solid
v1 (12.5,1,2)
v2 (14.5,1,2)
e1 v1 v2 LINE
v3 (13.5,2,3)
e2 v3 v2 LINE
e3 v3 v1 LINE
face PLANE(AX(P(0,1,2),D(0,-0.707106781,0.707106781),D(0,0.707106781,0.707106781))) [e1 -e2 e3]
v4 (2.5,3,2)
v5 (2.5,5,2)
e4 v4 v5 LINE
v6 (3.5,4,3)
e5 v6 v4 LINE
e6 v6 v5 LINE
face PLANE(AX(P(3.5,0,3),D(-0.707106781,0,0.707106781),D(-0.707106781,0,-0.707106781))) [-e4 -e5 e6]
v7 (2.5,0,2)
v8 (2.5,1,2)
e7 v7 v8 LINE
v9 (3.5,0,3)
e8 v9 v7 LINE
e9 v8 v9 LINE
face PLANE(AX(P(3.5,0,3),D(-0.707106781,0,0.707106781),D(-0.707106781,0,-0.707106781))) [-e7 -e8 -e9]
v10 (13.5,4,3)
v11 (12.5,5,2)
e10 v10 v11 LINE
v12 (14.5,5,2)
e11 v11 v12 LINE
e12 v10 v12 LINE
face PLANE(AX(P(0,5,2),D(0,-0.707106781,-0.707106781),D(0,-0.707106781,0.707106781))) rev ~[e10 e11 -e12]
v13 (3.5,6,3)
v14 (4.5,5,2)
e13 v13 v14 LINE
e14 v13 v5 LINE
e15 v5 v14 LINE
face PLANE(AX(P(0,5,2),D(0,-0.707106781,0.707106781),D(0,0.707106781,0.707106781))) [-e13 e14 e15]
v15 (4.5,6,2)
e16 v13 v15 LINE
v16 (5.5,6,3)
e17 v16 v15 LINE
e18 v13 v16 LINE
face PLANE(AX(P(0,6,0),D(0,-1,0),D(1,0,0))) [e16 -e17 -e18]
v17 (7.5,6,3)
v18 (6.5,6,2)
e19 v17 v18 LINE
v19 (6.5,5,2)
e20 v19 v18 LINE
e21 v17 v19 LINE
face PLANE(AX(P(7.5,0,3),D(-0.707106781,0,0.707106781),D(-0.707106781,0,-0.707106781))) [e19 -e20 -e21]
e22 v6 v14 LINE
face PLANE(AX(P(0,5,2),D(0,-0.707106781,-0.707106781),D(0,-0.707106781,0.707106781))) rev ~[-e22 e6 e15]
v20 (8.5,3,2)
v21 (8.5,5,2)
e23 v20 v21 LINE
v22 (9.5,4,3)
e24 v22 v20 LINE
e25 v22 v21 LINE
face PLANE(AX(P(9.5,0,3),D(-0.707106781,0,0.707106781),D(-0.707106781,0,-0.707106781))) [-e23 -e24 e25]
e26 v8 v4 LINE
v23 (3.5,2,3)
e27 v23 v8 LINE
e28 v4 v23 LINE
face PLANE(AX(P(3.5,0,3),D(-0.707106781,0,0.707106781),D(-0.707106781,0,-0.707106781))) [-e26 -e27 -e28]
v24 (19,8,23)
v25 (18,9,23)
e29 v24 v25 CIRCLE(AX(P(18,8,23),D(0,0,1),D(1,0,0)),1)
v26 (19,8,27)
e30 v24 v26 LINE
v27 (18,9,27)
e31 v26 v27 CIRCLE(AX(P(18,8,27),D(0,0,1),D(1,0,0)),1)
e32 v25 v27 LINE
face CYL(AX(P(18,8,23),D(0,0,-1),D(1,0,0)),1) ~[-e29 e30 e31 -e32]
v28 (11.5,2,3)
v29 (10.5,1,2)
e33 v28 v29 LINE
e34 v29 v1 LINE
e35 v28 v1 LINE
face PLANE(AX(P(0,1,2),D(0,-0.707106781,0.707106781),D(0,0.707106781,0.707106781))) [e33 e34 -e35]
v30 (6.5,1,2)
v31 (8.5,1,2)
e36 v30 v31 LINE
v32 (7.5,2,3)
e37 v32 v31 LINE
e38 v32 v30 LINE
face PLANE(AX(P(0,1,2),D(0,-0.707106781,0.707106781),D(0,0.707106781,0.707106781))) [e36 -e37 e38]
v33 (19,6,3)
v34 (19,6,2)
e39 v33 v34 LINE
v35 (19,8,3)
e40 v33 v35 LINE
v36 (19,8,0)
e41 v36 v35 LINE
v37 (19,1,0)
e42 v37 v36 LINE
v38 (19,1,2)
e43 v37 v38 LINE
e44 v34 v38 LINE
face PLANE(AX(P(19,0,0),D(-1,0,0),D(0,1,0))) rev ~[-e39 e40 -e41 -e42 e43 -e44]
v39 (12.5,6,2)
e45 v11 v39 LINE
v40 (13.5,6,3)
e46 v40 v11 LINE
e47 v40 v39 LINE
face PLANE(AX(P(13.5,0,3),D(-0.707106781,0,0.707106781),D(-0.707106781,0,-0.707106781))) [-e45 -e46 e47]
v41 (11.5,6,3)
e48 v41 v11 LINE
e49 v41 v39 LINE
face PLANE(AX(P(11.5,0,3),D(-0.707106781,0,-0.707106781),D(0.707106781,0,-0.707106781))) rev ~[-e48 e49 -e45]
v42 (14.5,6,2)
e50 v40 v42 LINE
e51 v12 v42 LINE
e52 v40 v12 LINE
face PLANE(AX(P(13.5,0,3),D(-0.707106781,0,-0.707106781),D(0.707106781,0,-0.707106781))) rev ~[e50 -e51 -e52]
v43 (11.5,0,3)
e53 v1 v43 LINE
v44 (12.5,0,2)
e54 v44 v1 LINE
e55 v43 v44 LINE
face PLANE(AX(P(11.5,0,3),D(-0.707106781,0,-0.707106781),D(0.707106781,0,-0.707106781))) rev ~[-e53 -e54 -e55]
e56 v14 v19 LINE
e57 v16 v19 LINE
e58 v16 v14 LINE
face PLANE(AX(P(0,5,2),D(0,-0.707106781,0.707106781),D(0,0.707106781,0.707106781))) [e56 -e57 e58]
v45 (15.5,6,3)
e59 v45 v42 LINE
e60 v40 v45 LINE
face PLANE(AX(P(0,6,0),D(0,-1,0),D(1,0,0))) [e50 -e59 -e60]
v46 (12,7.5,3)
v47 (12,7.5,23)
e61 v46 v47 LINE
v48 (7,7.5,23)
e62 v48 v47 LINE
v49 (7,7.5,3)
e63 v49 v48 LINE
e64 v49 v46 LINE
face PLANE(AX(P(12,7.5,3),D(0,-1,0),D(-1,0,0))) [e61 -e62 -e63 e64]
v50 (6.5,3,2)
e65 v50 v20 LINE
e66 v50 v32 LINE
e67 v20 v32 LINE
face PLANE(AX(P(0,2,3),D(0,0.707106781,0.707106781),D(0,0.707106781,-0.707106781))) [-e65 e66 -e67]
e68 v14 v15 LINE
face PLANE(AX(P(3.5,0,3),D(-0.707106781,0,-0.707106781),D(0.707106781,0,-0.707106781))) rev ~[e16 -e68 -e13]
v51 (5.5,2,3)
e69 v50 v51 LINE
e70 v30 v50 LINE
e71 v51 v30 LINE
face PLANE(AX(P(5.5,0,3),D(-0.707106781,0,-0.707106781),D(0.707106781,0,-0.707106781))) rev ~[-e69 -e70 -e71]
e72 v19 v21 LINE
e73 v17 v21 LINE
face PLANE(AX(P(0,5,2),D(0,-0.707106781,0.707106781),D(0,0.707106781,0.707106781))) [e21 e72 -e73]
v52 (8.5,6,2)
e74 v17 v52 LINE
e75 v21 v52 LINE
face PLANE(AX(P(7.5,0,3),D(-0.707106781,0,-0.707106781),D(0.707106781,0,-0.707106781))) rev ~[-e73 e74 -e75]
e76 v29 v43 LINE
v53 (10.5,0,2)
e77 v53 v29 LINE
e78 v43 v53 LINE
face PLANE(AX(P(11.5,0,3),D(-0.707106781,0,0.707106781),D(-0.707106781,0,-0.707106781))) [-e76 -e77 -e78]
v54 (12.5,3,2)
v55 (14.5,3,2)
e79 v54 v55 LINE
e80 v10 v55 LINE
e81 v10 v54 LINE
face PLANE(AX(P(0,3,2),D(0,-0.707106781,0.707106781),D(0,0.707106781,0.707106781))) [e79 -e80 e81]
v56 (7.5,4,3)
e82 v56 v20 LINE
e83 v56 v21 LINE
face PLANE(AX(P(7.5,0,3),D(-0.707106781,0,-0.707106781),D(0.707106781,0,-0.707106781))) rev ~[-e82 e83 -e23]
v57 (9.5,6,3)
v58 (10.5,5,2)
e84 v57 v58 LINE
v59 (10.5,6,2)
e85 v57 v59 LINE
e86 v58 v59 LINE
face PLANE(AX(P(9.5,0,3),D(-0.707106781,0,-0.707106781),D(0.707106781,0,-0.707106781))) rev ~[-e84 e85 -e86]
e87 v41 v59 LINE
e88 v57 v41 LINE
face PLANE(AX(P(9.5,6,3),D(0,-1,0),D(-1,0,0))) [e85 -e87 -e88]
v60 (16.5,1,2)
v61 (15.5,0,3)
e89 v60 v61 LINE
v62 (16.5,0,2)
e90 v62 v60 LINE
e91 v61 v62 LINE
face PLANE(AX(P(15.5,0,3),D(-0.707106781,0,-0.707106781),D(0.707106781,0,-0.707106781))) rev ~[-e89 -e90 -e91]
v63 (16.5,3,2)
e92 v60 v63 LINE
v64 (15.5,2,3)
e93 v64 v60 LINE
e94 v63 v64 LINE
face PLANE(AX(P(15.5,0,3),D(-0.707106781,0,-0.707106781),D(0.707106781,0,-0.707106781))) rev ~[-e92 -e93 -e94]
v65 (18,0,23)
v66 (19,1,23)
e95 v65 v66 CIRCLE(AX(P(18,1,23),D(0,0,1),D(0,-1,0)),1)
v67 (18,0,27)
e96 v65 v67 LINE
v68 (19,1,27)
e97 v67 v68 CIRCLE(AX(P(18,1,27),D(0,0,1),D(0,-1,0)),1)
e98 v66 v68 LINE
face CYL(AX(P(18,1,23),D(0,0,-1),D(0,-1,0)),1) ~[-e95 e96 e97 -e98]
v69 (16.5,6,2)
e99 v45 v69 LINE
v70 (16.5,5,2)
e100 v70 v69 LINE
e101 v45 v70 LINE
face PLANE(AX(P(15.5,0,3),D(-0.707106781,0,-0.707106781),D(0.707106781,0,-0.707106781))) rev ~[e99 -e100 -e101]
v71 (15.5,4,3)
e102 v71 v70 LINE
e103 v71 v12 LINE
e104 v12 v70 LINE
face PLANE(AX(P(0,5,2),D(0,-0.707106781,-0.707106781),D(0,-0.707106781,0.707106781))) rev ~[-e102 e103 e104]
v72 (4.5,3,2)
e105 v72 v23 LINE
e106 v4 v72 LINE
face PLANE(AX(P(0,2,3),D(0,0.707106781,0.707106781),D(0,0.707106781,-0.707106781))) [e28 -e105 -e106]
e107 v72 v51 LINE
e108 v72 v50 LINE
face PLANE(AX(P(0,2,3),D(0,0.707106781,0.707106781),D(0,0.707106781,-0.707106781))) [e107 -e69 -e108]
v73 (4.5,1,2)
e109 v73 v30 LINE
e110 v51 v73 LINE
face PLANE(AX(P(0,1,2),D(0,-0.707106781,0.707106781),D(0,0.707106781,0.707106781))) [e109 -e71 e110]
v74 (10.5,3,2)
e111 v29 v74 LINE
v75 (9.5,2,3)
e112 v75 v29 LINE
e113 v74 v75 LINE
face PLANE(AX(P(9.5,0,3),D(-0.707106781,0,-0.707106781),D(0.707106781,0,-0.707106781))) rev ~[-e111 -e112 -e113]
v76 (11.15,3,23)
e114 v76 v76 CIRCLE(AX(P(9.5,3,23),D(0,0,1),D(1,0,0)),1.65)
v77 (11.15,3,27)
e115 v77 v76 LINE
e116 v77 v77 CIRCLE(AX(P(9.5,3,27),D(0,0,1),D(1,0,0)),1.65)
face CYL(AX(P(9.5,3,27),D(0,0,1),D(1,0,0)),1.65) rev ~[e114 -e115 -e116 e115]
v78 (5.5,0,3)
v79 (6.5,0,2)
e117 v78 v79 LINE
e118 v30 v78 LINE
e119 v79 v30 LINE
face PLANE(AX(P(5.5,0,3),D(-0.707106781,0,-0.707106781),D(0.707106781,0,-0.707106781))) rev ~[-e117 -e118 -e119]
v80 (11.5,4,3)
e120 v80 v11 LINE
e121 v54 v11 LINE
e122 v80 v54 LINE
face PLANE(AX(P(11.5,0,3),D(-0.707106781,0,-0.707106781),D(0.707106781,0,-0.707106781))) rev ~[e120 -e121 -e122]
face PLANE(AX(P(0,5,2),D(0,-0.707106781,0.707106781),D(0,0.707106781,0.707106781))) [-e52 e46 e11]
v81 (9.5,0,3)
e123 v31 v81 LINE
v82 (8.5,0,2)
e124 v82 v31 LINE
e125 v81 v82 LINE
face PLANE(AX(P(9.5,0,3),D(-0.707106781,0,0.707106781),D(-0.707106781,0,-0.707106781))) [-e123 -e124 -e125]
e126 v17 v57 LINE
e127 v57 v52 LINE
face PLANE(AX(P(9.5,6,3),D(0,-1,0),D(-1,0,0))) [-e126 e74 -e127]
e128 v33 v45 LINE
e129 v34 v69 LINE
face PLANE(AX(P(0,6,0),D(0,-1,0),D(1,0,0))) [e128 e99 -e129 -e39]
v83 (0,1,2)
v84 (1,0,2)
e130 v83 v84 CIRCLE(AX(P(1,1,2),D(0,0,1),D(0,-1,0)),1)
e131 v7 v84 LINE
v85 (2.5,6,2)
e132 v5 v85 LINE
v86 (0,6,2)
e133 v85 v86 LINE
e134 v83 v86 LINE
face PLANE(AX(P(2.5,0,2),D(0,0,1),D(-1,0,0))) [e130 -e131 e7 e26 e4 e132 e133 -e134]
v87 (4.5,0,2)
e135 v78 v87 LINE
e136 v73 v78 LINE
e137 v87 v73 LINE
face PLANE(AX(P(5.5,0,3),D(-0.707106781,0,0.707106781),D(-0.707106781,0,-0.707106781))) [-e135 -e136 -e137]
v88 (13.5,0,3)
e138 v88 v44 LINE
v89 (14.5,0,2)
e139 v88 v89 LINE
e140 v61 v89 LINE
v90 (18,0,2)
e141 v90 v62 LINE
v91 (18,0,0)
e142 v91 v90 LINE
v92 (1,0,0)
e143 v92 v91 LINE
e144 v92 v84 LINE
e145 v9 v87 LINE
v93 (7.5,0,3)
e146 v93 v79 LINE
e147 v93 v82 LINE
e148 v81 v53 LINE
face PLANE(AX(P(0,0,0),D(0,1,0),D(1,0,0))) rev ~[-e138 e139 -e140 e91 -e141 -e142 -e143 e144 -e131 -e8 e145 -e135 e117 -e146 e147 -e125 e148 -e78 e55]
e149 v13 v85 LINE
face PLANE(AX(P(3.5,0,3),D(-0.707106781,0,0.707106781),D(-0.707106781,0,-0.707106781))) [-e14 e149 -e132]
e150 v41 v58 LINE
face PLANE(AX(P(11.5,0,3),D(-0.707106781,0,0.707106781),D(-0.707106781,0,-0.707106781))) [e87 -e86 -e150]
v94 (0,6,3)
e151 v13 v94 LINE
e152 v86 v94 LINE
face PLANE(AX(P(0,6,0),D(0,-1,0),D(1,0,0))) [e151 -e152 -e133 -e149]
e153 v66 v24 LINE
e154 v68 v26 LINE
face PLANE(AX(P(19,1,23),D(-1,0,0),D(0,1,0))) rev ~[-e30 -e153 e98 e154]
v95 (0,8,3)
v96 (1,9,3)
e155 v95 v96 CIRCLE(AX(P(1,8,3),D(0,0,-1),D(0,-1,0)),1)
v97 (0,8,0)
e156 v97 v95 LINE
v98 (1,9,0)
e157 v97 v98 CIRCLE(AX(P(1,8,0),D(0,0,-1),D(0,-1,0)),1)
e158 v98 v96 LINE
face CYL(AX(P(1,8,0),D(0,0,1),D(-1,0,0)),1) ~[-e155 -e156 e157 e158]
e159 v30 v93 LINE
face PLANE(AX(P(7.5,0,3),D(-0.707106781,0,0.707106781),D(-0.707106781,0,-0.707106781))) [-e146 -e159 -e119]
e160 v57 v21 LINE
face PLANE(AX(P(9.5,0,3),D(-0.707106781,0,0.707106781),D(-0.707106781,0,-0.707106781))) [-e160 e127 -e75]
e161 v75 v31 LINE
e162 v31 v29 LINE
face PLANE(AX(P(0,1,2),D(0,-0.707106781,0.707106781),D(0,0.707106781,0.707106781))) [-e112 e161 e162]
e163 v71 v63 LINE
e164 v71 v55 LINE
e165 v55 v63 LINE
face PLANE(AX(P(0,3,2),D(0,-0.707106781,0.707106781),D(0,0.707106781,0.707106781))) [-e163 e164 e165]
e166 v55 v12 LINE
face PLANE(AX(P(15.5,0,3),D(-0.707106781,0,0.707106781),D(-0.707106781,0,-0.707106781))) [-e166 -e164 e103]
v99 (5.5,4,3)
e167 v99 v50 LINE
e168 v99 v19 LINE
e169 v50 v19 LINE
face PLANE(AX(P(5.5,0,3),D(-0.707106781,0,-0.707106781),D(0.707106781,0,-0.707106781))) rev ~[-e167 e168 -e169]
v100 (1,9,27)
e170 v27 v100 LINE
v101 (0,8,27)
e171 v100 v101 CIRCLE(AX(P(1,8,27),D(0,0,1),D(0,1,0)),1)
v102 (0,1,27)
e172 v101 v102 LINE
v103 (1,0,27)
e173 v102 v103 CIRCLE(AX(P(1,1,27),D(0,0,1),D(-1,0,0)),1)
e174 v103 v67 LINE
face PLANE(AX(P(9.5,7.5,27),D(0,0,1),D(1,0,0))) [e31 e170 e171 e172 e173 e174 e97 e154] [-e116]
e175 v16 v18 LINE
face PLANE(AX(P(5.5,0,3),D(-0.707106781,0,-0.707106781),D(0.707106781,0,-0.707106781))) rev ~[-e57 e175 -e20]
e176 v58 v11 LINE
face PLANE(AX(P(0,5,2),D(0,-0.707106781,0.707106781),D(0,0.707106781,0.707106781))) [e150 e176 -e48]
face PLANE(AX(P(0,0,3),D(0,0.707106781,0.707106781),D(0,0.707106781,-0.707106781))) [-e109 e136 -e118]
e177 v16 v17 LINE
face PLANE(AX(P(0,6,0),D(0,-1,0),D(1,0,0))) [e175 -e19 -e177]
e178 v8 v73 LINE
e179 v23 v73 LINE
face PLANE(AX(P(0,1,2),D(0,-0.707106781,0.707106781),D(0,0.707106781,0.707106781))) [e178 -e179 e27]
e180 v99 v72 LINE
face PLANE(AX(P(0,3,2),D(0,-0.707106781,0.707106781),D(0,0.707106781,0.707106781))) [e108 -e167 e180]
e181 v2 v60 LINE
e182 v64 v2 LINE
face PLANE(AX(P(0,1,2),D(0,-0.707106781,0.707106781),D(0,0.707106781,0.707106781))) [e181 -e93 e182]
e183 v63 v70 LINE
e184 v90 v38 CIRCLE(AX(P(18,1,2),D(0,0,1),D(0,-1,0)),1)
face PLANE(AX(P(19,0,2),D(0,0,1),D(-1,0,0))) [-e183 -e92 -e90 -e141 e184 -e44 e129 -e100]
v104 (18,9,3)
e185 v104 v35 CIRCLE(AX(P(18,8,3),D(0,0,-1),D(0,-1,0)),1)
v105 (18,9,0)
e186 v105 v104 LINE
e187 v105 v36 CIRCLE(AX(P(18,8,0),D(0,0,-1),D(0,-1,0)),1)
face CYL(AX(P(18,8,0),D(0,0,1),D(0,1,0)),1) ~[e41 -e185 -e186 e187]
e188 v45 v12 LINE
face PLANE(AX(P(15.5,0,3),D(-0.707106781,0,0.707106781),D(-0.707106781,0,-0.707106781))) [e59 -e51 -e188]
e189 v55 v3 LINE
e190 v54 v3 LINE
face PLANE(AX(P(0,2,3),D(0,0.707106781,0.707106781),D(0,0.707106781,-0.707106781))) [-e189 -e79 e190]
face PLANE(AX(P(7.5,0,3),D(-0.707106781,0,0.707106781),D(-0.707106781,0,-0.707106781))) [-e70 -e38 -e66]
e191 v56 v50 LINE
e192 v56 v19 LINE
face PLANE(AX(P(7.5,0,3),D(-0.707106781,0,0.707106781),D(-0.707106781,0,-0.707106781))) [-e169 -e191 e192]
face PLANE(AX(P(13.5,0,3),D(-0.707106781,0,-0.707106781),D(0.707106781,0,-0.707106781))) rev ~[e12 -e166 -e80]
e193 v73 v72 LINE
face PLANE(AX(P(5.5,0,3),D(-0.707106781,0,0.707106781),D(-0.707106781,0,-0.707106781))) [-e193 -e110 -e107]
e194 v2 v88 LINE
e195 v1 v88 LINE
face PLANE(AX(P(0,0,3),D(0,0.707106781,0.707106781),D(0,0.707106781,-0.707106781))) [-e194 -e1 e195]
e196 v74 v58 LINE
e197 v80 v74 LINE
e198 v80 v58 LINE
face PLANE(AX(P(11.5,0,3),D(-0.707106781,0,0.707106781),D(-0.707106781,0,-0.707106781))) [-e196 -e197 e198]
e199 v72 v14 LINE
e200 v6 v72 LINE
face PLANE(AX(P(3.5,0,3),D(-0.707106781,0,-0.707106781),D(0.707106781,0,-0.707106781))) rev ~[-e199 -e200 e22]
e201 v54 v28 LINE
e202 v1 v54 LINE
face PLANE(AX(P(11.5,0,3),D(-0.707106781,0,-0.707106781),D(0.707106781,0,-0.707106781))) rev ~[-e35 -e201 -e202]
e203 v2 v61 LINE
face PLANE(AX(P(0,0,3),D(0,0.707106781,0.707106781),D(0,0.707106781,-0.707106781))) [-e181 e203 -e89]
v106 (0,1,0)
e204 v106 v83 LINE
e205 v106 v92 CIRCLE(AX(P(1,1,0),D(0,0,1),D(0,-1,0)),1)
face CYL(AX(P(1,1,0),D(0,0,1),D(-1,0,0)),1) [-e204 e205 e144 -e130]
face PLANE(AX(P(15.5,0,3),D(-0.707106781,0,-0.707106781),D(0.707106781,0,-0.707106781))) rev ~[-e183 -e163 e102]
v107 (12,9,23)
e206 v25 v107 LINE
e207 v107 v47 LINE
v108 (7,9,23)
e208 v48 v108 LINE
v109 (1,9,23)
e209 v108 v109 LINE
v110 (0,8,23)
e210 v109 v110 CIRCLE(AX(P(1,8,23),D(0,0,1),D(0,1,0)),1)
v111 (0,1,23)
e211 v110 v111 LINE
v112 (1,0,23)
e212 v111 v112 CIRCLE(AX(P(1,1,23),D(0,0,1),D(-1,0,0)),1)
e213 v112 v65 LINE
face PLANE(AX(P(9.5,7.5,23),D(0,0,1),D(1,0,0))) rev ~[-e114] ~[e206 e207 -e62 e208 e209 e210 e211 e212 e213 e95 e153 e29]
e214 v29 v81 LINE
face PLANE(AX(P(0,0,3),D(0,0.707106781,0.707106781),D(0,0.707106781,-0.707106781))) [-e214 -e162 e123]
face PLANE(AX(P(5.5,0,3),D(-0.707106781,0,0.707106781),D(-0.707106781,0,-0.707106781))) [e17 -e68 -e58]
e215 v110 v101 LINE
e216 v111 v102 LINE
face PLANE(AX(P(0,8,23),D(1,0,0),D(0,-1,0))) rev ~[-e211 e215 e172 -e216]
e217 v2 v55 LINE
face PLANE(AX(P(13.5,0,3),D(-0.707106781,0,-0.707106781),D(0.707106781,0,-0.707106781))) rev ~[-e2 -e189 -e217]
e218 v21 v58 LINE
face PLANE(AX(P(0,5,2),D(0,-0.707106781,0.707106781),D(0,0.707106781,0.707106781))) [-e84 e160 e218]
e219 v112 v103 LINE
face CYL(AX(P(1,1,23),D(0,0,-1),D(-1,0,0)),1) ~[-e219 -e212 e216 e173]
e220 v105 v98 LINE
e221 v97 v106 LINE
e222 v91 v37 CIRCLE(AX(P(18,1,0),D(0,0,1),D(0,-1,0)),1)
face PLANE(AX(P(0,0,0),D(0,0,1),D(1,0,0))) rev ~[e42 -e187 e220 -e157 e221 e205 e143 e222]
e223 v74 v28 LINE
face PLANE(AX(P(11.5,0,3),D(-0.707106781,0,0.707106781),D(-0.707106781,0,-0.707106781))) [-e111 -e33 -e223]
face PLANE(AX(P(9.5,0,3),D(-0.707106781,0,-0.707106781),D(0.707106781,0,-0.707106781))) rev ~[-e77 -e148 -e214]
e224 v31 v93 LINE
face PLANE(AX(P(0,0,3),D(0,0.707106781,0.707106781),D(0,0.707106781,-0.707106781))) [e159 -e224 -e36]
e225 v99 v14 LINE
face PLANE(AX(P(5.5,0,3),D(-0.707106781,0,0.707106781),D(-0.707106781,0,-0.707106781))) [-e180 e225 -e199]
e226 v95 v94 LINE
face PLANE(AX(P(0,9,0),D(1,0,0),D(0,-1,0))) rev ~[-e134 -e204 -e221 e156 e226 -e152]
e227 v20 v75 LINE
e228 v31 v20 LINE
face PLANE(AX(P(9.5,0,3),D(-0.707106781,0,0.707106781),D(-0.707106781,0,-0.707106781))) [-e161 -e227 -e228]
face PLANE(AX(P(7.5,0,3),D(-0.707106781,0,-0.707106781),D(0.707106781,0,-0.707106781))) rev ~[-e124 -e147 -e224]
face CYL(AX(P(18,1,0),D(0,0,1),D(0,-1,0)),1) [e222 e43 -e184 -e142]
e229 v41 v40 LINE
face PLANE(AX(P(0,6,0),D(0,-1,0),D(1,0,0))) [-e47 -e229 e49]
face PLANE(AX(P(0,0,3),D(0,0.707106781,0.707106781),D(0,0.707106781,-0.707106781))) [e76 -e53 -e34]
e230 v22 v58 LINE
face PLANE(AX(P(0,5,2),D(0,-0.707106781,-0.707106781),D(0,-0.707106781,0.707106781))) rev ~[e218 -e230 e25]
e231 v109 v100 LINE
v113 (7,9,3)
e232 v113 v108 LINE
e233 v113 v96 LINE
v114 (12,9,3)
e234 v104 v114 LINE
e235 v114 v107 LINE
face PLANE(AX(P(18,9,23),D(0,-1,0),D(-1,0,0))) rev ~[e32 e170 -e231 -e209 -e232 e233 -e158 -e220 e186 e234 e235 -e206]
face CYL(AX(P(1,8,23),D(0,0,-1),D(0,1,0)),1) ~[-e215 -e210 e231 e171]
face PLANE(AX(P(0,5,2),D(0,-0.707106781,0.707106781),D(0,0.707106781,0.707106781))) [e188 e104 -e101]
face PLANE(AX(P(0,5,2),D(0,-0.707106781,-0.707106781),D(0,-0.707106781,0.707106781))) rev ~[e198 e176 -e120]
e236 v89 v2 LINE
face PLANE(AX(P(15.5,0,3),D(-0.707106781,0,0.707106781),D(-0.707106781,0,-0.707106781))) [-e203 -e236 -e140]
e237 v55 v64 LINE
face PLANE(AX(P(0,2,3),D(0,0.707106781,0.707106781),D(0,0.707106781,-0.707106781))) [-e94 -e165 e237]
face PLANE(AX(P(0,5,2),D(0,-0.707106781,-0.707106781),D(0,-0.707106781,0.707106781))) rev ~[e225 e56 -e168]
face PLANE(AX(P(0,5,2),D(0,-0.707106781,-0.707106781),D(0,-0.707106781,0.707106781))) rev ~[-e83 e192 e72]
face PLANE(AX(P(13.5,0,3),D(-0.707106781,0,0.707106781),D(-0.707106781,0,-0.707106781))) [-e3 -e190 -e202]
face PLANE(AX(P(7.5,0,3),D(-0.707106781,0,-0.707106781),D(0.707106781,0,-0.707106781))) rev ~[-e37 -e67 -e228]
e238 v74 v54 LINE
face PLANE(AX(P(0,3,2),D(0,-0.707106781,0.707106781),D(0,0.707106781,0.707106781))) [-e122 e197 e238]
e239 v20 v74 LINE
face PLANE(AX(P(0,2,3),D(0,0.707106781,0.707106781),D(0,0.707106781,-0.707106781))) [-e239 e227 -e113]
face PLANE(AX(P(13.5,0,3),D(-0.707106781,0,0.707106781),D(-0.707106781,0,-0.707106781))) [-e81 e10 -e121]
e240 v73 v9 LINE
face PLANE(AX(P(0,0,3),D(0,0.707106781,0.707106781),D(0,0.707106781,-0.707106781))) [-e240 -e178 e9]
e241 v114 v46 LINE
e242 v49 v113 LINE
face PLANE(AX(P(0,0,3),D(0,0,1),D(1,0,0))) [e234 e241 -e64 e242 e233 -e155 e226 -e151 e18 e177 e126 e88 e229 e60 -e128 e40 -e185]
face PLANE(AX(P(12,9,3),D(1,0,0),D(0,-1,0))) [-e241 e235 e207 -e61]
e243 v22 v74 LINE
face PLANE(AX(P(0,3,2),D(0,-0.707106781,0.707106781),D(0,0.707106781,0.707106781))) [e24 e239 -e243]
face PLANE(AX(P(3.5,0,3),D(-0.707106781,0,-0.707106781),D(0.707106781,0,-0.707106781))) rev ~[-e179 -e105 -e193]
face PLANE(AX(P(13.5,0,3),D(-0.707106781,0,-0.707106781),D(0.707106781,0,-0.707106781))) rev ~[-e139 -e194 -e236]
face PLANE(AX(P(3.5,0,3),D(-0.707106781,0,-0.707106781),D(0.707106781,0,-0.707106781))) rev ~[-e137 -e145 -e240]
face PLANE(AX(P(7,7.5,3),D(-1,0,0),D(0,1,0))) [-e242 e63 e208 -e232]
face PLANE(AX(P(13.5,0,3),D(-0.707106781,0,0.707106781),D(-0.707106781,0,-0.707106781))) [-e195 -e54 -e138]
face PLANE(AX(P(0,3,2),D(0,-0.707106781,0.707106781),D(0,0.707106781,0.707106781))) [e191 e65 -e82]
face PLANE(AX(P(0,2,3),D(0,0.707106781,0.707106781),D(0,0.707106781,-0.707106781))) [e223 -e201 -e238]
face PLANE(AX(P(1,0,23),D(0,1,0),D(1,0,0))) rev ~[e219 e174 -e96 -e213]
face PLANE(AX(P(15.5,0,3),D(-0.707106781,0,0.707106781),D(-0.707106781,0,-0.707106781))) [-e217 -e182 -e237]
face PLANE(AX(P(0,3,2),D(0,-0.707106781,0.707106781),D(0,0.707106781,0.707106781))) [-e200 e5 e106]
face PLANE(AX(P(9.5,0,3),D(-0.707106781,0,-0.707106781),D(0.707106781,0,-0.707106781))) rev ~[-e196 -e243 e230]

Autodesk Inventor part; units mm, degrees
ref_plane "YZ Plane" through (0, 0, 0) normal (1, 0, 0) x (0, 1, 0)
ref_plane "XZ Plane" through (0, 0, 0) normal (0, 1, 0) x (-1, 0, 0)
ref_plane "XY Plane" through (0, 0, 0) normal (0, 0, 1) x (1, 0, 0)
sketch "Sketch1" plane through (0, 0, 0) normal (0, 0, 1) x (1, 0, 0)
  line L0 (0, 0) -> (19, 0)
  line L1 (19, 0) -> (19, 9)
  line L2 (19, 9) -> (0, 9)
  line L3 (0, 9) -> (0, 0)
  point P0 (9.5, 9)
  dimension "d0" = 19
  dimension "d1" = 9
extrude "Extrusion1" add sketch "Sketch1" along normal blind 3
sketch "Sketch2" plane through (0, 0, 3) normal (0, 0, 1) x (1, 0, 0)
  line L0 (19, 9) -> (0, 9) projected
  circle A0 centre (9.5, 7.5) radius 1.5
  line L1 (11, 6) -> (8, 6)
  line L2 (8, 6) -> (8, 9)
  line L3 (8, 9) -> (11, 9)
  line L4 (11, 9) -> (11, 6)
  line L5 (11, 6) -> (8, 9) construction
  line L6 (8, 6) -> (11, 9) construction
  line L7 (12, 7.5) -> (7, 7.5)
  line L8 (7, 7.5) -> (7, 9)
  line L9 (7, 9) -> (12, 9)
  line L10 (12, 9) -> (12, 7.5)
  line L11 (12, 7.5) -> (7, 9) construction
  line L12 (7, 7.5) -> (12, 9) construction
  line L13 (8, 7.5) -> (11, 7.5)
  line L14 (11, 7.5) -> (11, 6)
  line L15 (11, 6) -> (8, 6)
  line L16 (8, 6) -> (8, 7.5)
  point P0 (0, 0)
  point P1 (9.5, 8.25)
  dimension "d4" = 3
  dimension "d5" = 1.5
  dimension "d73" = 0.75
  dimension "d74" = 5
extrude "Extrusion2" add sketch "Sketch2" along normal blind 20 contours A0 L7 | A0 L7
sketch "Sketch10" plane through (0, 0, 0) normal (-1, 0, 0) x (0, 0, 1)
  line L0 (0, 0) -> (3, 0) projected
  line L1 (3, 9) -> (3, 0) projected
  line L2 (3, 0) -> (2, 0)
  line L3 (2, 0) -> (2, 6)
  line L4 (2, 6) -> (3, 6)
  line L5 (3, 6) -> (3, 0)
  line L6 (3, 0) -> (2, 1)
  line L7 (3, 0) -> (4.4142, 0) construction
  line L8 (2, 1) -> (3, 2)
  line L9 (3, 0) -> (3, 9) projected
  line L10 (3, 2) -> (2, 3)
  line L11 (2, 3) -> (3, 4)
  line L12 (2, 5) -> (3, 4)
  line L13 (2, 5) -> (3, 6)
  dimension "d23" = 1
  dimension "d24" = 6
  dimension "d25" = 135
  dimension "d26" = 90
extrude "Extrusion8" cut sketch "Sketch10" against normal up to next contours L6 L8 L1 | L10 L11 L1 | L12 L13 L1
sketch "Sketch11" plane through (0, 0, 0) normal (0, -1, 0) x (1, 0, 0)
  line L0 (0, 3) -> (9.5, 3) projected
  line L1 (0, 3) -> (19, 3)
  line L2 (19, 3) -> (19, 2)
  line L3 (19, 2) -> (8.5, 2)
  line L4 (0, 2) -> (0, 3)
  line L5 (0, 3) -> (0, 2) projected
  line L6 (0, 3) -> (1.4142, 3) construction
  line L7 (19, 3) -> (0, 3) projected
  line L8 (9.5, 3) -> (8.5, 2)
  line L9 (9.5, 3) -> (10.9142, 3) construction
  line L10 (10.5, 2) -> (8.5, 2)
  line L11 (9.5, 3) -> (10.5, 2)
  line L12 (10.5, 2) -> (8.5, 2)
  line L13 (8.5, 2) -> (0, 2)
  line L14 (7.5, 3) -> (8.5, 2)
  line L15 (8.5, 2) -> (6.5, 2)
  line L16 (7.5, 3) -> (6.5, 2)
  line L17 (5.5, 3) -> (6.5, 2)
  line L18 (6.5, 2) -> (4.5, 2)
  line L19 (5.5, 3) -> (4.5, 2)
  line L20 (3.5, 3) -> (4.5, 2)
  line L21 (4.5, 2) -> (2.5, 2)
  line L22 (3.5, 3) -> (2.5, 2)
  line L23 (12.5, 2) -> (10.5, 2)
  line L24 (11.5, 3) -> (12.5, 2)
  line L25 (11.5, 3) -> (10.5, 2)
  line L26 (14.5, 2) -> (12.5, 2)
  line L27 (13.5, 3) -> (14.5, 2)
  line L28 (13.5, 3) -> (12.5, 2)
  line L29 (16.5, 2) -> (14.5, 2)
  line L30 (15.5, 3) -> (16.5, 2)
  line L31 (15.5, 3) -> (14.5, 2)
  point P0 (0, 0)
  dimension "d30" = 135
  dimension "d33" = 2
  dimension "d40" = 2
extrude "Extrusion9" cut sketch "Sketch11" against normal blind 6 contours L0 L22 L13 L4 | L0 L19 L20 | L0 L16 L17 | L0 L8 L14 | L1 L25 L11 | L1 L28 L24 | L1 L31 L27 | L1 L2 L3 L30
fillet "Fillet2" radius 1 4 edges at (19, 0, 1) (19, 9, 1.5) (0, 0, 1) (0, 9, 1.5)
sketch "Sketch13" plane through (9.5, 7.5, 23) normal (0, 0, 1) x (1, 0, 0)
  line L0 (9.5, -6.5) -> (9.5, 0.5) projected
  arc A0 (8.5, -7.5) -> (9.5, -6.5) centre (8.5, -6.5) ccw projected
  line L1 (-8.5, -7.5) -> (8.5, -7.5) projected
  arc A1 (-9.5, -6.5) -> (-8.5, -7.5) centre (-8.5, -6.5) ccw projected
  line L2 (-9.5, 0.5) -> (-9.5, -6.5) projected
  arc A2 (-8.5, 1.5) -> (-9.5, 0.5) centre (-8.5, 0.5) ccw projected
  line L3 (8.5, 1.5) -> (-8.5, 1.5) projected
  arc A3 (9.5, 0.5) -> (8.5, 1.5) centre (8.5, 0.5) ccw projected
  point P0 (-9.5, -7.5)
extrude "Extrusion12" add sketch "Sketch13" along normal blind 4
sketch "Sketch14" plane through (9.5, 7.5, 27) normal (0, 0, 1) x (1, 0, 0)
  line L0 (-8.5, -7.5) -> (8.5, -7.5) projected
  circle A0 centre (0, -4.5) radius 1.65
  point P0 (-9.5, -7.5)
  dimension "d67" = 3
  dimension "d68" = 3.3
extrude "Extrusion13" cut sketch "Sketch14" against normal up to next
extrude "Extrusion14" add sketch "Sketch2" along normal up to next contours L4 A0 L0 | A0 L2 L0 | L4 L1 A0 | A0 L1 L2
extrude "Extrusion15" add sketch "Sketch2" along normal up to next contours L10 L7 L4 L0 | L4 A0 L0 | A0 L2 L0 | A0 L7 | L2 L7 L8 L0 picked at (9.5, 8)
extrude "Extrusion16" cut sketch "Sketch2" along normal up to surface (20 mm away) contours L4 L1 A0 | A0 L7 | A0 L1 L2 picked at (9.1091, 7.1883)
properties part number "clamp-base9x19mm-SampleH20-screwM4(Miracca)"
